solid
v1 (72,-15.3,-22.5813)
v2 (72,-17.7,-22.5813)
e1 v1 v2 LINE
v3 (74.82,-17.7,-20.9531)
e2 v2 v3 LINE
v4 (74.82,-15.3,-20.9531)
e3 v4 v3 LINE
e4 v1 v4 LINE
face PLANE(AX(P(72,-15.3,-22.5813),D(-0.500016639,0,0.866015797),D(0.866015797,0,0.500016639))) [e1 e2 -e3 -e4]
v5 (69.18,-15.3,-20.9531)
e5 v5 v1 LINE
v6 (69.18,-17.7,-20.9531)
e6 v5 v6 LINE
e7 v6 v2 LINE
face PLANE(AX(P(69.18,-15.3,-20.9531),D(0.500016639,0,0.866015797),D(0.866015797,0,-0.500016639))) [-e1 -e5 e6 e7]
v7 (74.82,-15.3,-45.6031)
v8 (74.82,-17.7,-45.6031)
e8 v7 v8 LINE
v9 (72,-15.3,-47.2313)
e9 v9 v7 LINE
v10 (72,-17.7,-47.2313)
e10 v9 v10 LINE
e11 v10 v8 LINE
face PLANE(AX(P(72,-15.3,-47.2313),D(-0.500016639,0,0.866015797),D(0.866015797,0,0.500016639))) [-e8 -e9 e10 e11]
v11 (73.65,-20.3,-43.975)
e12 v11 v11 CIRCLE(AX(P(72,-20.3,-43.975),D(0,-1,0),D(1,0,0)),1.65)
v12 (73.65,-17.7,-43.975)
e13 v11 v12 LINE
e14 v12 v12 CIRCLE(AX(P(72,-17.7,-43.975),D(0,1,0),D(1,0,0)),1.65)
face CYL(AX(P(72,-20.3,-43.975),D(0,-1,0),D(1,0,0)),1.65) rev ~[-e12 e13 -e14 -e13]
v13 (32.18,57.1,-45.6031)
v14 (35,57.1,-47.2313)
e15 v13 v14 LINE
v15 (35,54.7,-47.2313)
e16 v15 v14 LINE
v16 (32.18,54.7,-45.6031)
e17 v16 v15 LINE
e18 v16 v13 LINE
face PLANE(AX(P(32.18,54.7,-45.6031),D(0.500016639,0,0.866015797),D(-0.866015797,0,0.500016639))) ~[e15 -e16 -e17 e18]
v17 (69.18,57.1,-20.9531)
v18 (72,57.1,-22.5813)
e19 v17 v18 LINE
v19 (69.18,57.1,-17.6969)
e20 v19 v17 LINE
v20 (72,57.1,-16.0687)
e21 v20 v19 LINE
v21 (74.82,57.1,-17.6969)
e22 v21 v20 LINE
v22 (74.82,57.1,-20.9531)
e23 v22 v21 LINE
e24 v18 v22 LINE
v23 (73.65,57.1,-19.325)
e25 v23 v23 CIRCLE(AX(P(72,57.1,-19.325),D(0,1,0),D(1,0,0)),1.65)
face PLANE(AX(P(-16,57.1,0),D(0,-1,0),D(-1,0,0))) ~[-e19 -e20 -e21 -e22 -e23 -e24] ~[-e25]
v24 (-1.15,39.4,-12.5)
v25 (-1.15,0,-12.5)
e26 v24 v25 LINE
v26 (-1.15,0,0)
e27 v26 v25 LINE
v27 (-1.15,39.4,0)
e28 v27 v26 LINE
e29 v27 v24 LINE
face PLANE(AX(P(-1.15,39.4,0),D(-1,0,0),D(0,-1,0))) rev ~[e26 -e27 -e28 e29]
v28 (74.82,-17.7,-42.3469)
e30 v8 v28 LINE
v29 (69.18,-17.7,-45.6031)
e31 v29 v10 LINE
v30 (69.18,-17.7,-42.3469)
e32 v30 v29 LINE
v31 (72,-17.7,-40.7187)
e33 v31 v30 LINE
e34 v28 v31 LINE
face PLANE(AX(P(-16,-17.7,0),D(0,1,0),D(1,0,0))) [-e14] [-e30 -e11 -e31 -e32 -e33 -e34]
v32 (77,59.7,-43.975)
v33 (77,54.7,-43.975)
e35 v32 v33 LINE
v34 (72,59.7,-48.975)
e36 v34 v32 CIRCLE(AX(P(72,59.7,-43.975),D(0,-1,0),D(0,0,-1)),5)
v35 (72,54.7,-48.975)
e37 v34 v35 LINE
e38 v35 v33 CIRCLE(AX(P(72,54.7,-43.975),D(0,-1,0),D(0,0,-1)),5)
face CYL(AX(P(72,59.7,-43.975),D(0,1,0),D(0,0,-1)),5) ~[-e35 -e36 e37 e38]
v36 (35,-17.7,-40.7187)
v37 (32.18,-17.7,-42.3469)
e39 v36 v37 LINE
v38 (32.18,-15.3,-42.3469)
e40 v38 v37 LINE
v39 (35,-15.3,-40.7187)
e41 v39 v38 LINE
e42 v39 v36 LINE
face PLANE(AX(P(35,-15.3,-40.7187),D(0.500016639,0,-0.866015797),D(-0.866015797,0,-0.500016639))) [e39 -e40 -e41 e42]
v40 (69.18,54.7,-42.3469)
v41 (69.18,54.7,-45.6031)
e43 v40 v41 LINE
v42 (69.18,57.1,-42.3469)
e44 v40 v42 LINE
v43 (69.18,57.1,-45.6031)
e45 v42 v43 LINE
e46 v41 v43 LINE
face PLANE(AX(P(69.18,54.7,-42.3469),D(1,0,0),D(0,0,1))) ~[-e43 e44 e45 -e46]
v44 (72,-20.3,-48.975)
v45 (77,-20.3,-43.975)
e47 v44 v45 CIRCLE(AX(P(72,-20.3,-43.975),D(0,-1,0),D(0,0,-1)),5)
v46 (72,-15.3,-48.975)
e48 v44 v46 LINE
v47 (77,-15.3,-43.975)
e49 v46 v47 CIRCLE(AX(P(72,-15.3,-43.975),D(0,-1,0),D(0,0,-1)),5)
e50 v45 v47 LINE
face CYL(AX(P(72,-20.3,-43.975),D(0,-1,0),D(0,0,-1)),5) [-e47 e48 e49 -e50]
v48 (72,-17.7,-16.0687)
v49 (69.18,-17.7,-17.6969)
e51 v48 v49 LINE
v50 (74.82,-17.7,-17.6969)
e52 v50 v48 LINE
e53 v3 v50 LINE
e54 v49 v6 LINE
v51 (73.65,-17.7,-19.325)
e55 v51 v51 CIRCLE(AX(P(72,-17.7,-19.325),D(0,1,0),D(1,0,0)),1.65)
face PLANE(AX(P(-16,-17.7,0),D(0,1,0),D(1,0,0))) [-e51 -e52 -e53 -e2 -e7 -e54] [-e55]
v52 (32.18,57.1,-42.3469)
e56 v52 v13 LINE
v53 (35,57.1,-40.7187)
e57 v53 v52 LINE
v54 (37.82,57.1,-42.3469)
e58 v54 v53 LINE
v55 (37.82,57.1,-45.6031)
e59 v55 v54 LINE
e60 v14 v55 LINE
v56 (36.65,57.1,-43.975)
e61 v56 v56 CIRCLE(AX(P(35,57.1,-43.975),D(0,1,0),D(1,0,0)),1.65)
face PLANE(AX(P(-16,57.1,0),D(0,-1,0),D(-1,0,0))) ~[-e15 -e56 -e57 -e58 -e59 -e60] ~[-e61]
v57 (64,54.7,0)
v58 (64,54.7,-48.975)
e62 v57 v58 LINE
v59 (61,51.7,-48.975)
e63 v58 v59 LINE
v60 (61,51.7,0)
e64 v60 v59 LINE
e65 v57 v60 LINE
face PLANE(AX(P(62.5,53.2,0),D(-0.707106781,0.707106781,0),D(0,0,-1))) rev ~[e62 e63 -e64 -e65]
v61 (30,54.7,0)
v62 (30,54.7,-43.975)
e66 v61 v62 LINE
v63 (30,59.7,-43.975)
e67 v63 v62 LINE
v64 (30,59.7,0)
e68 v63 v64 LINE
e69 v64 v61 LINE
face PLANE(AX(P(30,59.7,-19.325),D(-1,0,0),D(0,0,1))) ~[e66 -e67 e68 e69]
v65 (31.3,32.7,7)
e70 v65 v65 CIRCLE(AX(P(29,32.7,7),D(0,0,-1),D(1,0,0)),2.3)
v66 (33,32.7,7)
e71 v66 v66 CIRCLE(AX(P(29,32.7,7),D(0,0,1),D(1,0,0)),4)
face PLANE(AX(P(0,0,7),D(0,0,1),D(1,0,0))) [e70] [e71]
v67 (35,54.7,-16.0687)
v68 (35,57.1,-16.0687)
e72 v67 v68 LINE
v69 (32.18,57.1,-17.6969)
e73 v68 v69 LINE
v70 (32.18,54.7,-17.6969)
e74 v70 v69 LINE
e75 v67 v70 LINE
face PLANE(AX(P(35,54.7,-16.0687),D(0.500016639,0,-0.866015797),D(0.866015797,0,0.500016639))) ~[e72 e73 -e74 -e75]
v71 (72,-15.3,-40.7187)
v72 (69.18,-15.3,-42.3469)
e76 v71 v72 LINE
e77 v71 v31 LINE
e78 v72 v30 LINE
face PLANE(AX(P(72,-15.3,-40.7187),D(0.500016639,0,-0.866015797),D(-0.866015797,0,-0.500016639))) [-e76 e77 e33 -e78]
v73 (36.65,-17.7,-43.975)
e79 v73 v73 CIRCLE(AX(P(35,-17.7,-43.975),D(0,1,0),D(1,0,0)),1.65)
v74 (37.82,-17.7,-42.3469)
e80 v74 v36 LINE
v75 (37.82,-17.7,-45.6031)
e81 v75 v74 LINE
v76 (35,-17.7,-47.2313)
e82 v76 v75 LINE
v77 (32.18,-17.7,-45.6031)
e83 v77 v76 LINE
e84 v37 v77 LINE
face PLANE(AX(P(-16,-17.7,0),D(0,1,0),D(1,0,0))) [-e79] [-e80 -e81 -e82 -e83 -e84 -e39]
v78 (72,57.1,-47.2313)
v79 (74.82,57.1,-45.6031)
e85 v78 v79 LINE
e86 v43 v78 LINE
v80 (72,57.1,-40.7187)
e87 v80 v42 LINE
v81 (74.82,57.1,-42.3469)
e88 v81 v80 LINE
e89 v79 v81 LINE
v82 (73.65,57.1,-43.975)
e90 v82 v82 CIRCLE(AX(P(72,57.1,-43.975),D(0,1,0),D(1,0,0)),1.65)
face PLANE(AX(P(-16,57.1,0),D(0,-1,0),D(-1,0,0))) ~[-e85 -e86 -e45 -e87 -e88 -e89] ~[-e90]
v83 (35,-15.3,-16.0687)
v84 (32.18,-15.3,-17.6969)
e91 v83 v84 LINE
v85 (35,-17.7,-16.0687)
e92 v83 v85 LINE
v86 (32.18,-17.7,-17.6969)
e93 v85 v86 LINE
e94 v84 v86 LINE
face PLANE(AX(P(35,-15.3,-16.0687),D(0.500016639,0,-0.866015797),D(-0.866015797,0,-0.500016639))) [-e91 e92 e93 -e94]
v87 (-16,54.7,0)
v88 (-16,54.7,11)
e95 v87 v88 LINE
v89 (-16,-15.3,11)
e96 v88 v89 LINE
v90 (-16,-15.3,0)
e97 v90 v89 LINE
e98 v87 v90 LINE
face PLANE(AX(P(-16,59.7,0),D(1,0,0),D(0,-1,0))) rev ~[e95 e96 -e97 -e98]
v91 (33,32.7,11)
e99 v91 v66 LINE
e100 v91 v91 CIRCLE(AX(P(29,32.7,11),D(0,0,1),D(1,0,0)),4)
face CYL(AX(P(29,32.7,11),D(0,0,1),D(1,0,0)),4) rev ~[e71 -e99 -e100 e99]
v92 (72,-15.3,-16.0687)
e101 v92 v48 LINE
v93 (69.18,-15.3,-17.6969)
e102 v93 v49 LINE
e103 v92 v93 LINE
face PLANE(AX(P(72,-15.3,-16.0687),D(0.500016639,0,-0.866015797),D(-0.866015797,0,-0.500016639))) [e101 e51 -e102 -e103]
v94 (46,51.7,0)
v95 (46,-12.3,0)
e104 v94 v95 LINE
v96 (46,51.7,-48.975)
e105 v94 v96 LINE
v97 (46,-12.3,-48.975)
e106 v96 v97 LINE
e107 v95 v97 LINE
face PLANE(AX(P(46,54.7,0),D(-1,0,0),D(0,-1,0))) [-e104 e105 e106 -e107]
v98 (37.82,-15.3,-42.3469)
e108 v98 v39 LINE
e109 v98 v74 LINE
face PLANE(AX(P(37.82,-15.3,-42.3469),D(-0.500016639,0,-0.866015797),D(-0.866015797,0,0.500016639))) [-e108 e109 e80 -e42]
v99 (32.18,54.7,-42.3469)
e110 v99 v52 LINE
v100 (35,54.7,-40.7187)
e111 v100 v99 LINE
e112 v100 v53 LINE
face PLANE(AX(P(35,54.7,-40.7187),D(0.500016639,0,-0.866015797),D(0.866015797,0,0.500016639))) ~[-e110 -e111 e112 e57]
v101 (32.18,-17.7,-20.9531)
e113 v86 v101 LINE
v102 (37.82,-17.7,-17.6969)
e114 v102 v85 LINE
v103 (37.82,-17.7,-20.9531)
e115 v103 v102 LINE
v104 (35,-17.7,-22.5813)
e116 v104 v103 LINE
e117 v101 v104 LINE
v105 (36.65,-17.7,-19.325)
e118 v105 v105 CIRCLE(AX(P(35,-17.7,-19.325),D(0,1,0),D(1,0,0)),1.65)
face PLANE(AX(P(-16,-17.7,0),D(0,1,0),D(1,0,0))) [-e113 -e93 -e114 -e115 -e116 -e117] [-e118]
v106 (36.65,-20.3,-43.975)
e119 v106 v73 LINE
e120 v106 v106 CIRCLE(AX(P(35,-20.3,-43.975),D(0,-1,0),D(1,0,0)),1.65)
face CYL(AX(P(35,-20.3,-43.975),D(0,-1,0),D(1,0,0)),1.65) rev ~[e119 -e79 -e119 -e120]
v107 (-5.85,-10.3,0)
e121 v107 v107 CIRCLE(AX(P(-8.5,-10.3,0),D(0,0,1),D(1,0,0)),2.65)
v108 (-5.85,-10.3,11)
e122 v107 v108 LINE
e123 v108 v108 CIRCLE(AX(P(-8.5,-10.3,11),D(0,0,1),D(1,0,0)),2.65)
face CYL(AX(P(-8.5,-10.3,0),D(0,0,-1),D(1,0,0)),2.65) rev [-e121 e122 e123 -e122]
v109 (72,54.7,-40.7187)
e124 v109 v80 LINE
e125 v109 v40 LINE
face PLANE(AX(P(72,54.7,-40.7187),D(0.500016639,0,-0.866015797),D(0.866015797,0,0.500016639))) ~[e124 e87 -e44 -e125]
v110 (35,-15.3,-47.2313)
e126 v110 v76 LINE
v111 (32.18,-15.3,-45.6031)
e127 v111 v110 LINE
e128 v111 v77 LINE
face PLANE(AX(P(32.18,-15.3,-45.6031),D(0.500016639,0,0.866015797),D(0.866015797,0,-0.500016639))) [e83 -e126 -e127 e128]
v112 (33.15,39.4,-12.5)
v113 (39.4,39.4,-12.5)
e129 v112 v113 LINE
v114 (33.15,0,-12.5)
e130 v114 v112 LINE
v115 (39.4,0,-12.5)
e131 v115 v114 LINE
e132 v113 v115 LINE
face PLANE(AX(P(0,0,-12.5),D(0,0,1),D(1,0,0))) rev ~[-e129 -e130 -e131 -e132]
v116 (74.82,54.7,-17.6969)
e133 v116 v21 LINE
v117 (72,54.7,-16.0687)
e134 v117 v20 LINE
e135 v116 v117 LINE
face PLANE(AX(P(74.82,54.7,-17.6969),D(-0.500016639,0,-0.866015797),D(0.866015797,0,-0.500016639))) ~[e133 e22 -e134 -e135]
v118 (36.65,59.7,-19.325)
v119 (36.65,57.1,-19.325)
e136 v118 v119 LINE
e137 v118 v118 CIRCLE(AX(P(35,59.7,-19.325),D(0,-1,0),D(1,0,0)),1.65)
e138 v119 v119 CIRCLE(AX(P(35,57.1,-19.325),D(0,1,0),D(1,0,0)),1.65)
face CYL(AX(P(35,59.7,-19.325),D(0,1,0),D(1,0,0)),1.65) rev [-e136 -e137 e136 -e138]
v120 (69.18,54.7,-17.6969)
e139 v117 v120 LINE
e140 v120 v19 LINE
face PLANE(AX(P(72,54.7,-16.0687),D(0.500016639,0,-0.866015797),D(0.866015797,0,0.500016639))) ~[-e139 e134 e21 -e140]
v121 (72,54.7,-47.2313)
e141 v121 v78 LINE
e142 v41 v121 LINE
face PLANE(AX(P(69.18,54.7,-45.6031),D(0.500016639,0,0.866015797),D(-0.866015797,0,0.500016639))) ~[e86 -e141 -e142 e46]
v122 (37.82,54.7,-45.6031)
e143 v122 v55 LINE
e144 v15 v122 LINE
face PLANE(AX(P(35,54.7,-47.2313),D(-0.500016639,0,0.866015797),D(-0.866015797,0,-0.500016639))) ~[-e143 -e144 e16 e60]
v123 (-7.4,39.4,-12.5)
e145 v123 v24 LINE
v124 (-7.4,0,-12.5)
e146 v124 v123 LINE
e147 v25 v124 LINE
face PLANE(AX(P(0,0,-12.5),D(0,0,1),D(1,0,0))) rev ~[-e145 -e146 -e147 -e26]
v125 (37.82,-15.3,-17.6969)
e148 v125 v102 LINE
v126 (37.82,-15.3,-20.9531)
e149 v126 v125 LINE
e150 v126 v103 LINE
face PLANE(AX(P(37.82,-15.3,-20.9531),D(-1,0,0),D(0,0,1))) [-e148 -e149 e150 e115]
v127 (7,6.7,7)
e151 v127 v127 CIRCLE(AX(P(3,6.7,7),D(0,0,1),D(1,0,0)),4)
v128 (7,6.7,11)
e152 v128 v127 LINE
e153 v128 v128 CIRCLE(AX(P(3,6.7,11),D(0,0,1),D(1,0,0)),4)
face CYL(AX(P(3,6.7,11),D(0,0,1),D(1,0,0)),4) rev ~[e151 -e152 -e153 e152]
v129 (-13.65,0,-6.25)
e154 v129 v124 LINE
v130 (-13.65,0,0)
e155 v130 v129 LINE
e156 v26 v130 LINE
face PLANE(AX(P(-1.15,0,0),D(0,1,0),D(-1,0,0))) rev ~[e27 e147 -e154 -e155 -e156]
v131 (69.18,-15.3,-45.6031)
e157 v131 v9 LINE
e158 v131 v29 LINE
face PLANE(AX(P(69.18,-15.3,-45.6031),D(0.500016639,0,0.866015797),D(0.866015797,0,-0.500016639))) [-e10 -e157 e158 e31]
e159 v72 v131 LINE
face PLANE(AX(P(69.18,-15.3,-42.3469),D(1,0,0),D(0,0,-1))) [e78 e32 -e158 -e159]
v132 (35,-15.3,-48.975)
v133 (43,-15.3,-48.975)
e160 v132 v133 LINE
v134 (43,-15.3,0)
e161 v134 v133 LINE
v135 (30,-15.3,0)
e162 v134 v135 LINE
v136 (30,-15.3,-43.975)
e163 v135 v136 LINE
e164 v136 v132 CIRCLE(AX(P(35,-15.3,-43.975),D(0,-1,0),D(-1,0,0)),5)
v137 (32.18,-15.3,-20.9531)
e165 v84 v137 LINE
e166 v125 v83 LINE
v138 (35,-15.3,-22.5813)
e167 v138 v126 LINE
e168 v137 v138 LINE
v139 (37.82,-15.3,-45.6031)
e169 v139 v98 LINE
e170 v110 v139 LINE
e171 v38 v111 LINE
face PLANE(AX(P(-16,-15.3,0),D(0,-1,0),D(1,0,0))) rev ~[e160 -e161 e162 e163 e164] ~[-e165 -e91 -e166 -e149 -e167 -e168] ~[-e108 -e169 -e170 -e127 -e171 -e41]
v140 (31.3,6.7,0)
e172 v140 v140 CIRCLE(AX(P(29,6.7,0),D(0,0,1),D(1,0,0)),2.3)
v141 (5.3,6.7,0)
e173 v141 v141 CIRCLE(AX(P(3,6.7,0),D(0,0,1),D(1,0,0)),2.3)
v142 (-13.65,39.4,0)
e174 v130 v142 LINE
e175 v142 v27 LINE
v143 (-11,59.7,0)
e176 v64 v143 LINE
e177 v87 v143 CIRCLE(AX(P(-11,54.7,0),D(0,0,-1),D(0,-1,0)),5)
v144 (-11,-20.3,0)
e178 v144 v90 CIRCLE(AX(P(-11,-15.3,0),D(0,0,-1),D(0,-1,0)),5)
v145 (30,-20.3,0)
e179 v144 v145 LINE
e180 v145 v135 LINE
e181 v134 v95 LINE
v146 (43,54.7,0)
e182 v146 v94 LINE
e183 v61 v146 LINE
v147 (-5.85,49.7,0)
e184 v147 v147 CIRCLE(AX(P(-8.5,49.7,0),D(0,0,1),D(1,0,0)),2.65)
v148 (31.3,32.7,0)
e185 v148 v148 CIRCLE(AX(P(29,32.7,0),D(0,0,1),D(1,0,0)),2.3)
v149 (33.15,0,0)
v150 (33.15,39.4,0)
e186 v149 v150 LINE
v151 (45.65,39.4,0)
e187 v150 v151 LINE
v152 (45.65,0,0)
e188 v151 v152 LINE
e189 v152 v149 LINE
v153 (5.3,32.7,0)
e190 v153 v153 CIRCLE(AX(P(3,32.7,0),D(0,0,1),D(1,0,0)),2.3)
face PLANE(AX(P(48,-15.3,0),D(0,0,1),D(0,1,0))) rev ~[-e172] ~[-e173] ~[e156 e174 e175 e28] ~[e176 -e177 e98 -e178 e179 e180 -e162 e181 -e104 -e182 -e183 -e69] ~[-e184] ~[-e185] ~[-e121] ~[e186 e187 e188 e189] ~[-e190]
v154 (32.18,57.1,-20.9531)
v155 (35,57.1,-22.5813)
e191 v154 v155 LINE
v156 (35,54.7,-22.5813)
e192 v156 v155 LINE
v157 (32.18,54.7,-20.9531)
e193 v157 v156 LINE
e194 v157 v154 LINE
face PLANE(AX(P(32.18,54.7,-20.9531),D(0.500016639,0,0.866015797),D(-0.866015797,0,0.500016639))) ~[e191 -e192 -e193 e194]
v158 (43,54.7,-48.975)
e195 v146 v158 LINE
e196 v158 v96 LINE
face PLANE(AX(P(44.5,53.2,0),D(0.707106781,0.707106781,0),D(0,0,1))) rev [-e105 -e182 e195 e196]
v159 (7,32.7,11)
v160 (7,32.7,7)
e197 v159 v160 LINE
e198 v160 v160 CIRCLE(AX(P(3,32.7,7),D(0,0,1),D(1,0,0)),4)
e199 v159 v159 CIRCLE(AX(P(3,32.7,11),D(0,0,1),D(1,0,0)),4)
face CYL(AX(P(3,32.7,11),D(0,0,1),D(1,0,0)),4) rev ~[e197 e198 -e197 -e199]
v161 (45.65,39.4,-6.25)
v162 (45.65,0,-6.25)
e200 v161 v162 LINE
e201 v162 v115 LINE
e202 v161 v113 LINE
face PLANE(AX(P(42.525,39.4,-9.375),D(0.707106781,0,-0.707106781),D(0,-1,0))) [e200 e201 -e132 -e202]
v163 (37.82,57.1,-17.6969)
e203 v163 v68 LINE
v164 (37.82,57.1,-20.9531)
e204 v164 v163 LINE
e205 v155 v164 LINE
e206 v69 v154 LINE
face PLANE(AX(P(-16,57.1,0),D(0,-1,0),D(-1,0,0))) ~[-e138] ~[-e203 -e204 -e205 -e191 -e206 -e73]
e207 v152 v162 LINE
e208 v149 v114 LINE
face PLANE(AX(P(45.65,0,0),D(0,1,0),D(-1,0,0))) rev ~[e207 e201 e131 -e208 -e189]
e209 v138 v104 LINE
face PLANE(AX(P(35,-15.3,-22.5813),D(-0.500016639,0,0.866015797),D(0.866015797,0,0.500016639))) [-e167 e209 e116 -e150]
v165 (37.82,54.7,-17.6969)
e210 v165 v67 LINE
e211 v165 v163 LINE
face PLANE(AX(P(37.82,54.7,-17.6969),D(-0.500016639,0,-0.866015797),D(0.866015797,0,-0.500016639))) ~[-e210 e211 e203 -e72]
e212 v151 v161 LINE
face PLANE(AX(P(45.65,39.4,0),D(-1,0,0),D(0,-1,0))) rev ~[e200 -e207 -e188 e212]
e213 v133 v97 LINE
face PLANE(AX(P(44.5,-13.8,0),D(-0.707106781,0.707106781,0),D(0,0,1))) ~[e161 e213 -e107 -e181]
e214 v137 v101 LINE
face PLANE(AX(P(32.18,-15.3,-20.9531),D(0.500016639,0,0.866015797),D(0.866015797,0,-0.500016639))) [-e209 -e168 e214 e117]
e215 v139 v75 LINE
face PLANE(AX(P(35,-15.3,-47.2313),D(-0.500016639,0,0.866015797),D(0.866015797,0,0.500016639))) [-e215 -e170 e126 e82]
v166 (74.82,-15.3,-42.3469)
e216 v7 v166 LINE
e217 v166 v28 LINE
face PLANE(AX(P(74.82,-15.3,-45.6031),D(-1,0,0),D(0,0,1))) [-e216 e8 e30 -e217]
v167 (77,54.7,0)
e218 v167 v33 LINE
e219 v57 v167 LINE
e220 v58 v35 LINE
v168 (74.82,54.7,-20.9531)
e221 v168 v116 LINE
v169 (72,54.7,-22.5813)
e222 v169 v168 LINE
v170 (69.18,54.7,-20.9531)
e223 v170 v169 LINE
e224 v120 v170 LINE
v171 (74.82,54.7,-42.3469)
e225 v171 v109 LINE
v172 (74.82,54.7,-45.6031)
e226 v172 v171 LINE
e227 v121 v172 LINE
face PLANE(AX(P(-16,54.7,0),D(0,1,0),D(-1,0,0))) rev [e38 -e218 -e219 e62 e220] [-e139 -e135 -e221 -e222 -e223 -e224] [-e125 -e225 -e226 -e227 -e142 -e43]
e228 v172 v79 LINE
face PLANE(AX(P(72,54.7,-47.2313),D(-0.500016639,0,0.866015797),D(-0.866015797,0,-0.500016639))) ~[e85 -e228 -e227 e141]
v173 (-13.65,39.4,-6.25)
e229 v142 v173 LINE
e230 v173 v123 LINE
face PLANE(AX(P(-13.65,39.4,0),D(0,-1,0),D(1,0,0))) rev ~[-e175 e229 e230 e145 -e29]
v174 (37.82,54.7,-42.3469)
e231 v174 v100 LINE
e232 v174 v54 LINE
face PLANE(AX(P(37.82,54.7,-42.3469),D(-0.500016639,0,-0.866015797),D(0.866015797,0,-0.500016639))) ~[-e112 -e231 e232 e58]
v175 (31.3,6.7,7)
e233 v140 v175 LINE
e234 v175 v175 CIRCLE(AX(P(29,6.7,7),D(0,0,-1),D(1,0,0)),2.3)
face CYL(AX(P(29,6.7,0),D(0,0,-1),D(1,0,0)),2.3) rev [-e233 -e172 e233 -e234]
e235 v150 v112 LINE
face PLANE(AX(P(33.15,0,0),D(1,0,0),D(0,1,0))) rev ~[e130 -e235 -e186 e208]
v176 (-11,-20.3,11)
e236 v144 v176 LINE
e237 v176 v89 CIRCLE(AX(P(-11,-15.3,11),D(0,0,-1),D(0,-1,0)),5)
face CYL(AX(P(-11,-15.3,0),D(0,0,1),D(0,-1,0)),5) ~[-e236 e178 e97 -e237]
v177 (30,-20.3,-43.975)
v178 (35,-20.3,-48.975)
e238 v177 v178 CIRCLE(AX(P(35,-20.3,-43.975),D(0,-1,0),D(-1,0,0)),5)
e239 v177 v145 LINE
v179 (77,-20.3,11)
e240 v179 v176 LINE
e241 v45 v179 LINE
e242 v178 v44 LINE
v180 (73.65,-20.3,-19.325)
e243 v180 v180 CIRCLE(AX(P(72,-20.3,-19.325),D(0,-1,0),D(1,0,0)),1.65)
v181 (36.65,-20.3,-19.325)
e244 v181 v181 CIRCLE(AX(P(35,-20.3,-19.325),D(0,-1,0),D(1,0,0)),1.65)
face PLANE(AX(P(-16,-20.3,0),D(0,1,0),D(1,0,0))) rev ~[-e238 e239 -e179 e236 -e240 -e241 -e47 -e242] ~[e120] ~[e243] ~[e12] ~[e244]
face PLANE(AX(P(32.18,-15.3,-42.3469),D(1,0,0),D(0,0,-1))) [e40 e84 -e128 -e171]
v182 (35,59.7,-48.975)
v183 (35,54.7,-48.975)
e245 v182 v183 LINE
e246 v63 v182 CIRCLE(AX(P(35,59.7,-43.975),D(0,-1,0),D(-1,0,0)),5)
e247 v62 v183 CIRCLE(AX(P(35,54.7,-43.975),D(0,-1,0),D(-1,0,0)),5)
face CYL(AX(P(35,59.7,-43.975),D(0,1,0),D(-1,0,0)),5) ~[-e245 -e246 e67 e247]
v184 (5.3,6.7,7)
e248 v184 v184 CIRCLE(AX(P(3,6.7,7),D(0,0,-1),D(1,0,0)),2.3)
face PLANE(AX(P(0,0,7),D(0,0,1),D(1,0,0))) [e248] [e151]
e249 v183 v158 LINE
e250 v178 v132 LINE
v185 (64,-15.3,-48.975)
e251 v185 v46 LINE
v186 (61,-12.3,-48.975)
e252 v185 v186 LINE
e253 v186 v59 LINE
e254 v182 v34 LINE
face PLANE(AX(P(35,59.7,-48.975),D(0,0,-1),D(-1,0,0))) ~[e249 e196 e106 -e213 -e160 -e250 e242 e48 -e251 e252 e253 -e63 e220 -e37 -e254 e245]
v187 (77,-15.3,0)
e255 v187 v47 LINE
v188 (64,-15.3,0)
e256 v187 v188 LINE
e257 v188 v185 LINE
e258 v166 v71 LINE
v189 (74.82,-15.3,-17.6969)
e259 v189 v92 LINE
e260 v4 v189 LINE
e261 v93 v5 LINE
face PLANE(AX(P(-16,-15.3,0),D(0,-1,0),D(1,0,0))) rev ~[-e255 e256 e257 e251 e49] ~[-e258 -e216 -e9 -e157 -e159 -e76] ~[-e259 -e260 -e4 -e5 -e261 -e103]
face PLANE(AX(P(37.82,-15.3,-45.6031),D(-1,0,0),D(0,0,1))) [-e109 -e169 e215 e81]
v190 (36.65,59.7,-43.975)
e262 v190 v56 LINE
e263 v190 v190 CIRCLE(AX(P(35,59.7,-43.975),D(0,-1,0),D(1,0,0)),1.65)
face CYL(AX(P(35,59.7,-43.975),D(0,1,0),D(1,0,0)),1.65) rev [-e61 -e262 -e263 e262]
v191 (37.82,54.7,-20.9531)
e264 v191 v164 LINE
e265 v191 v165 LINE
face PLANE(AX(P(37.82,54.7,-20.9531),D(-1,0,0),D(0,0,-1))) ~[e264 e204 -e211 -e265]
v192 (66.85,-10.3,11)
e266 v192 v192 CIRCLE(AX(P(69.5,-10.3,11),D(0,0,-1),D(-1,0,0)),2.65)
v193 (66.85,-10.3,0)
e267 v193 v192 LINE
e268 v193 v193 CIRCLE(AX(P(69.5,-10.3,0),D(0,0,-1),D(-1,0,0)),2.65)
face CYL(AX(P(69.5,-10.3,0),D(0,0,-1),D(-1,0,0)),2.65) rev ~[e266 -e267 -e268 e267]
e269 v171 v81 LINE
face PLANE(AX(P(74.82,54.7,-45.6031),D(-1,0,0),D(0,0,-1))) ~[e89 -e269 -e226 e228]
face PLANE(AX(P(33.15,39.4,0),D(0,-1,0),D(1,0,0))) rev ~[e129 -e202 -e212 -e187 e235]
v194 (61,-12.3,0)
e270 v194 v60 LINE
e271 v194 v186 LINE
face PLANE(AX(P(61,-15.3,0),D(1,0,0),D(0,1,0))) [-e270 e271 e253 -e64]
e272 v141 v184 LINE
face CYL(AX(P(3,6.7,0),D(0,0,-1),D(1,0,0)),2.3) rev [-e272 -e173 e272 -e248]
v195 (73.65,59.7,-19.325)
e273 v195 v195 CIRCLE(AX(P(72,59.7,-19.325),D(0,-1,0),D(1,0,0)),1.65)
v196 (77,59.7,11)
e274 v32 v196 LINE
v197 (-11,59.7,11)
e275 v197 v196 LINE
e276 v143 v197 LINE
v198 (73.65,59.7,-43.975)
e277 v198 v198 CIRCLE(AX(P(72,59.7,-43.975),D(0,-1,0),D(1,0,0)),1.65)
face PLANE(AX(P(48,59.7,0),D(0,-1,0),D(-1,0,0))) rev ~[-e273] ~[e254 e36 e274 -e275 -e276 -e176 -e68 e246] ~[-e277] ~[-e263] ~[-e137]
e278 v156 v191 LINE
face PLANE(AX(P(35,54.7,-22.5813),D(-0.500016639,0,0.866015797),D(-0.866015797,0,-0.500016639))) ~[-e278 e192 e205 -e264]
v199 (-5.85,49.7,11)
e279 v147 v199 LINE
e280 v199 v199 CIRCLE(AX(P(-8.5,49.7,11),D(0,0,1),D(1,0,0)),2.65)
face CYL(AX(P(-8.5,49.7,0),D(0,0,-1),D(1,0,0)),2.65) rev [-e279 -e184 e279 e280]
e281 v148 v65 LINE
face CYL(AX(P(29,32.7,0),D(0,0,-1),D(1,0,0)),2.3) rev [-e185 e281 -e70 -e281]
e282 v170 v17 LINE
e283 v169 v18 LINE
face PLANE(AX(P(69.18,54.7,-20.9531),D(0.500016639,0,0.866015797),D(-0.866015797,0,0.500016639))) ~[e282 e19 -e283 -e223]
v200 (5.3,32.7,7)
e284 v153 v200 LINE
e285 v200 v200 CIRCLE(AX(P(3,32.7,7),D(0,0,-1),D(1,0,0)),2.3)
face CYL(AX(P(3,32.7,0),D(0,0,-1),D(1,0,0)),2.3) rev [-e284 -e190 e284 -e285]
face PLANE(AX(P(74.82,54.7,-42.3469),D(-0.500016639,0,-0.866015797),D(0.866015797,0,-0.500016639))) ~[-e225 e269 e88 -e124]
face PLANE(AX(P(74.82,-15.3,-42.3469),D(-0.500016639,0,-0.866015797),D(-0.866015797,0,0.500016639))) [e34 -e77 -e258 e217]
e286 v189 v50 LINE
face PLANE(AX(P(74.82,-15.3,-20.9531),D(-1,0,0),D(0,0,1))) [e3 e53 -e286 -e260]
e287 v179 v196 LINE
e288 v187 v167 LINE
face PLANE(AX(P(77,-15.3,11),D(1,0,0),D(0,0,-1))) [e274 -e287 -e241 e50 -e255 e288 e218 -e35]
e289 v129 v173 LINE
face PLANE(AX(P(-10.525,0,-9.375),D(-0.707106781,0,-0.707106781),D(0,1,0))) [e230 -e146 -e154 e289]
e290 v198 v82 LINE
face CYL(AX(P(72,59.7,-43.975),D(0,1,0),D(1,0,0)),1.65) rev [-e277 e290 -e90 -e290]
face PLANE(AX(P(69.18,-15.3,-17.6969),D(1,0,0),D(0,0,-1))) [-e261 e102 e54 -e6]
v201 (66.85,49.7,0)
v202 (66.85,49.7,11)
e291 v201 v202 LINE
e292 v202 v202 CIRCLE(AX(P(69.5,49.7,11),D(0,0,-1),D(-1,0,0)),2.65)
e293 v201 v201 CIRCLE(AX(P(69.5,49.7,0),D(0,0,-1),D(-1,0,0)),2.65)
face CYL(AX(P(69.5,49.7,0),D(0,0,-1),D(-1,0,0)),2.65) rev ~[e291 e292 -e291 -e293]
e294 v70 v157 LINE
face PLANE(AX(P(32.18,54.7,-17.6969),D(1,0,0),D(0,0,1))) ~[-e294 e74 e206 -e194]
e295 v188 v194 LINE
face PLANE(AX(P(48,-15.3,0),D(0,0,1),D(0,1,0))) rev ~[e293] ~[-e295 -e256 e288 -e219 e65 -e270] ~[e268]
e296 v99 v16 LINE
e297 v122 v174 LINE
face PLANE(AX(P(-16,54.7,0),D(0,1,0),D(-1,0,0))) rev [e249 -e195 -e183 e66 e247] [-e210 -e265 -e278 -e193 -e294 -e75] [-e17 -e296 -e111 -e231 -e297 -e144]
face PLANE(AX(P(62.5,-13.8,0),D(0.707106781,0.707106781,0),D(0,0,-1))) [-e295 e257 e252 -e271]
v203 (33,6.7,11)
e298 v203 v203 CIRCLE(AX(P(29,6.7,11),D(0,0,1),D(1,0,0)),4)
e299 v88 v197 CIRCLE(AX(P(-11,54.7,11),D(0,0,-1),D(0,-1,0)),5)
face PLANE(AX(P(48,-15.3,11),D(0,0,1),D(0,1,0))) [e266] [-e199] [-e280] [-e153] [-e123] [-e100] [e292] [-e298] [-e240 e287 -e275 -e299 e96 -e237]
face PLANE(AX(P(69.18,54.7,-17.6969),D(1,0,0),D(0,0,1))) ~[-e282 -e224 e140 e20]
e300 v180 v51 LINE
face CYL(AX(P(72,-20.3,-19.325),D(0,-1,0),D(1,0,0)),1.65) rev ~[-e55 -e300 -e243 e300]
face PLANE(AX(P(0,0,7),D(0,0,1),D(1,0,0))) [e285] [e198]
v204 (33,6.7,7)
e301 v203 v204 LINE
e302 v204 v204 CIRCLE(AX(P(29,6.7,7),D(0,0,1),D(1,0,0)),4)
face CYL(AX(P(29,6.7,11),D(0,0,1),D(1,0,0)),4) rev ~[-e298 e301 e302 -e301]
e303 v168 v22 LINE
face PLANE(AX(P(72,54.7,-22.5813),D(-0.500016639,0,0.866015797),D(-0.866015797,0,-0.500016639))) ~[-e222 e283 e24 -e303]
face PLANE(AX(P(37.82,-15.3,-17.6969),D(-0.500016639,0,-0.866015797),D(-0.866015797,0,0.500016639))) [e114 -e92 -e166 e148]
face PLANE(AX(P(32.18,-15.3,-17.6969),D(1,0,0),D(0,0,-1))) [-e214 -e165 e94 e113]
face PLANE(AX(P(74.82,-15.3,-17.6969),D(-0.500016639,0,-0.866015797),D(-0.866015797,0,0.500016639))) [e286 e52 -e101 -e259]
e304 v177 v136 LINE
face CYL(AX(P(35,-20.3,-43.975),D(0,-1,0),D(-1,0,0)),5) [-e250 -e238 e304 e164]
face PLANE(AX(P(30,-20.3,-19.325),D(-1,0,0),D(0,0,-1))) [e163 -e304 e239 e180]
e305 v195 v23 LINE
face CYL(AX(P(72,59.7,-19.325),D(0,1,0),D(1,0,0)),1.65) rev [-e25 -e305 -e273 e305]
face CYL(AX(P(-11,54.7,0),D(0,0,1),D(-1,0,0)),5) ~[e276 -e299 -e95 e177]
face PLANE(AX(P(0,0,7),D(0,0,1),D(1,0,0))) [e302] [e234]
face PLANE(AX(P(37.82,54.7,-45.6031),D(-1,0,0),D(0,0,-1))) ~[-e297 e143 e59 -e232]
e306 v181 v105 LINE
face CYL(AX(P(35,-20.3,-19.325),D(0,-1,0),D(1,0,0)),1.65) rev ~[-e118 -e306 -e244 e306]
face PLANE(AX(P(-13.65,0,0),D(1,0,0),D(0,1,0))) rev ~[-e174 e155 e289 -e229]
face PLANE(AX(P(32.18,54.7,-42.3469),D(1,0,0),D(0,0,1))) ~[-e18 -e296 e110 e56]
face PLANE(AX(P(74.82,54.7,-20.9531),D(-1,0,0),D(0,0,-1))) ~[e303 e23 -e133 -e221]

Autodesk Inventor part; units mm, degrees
ref_plane "YZ Plane" through (0, 0, 0) normal (1, 0, 0) x (0, 1, 0)
ref_plane "XZ Plane" through (0, 0, 0) normal (0, 1, 0) x (-1, 0, 0)
ref_plane "XY Plane" through (0, 0, 0) normal (0, 0, 1) x (1, 0, 0)
sketch "Sketch1" plane through (0, 0, 0) normal (0, 0, 1) x (1, 0, 0)
  line L0 (25, 39.4) -> (25, 0)
  line L1 (32, 0) -> (25, 0)
  line L2 (32, 0) -> (32, 39.4)
  line L3 (32, 39.4) -> (25, 39.4)
  circle A0 centre (29, 32.7) radius 2
  circle A1 centre (29, 6.7) radius 2
  line L4 (0, 0) -> (0, 39.4)
  line L5 (7, 0) -> (0, 0)
  line L6 (7, 0) -> (7, 39.4)
  line L7 (7, 39.4) -> (0, 39.4)
  circle A2 centre (3, 32.7) radius 2
  circle A3 centre (3, 6.7) radius 2
  line L8 (-1, 0) -> (-1, 39.4)
  line L9 (33, 39.4) -> (33, 0)
  line L10 (32.1572, 39.4) -> (32.1572, 50.4)
  line L11 (-0.2428, 50.4) -> (-0.2428, 39.4)
  line L12 (32.1572, 0) -> (32.1572, -11)
  line L13 (-0.2428, -11) -> (-0.2428, 0)
  line L14 (0, 39.4) -> (32, 39.4)
  line L15 (32, 39.4) -> (32, 0)
  line L16 (32, 0) -> (0, 0)
  line L17 (0, 0) -> (0, 39.4)
  line L18 (48, 59.7) -> (-16, 59.7)
  line L19 (-16, 59.7) -> (-16, -20.3)
  line L20 (-16, -20.3) -> (48, -20.3)
  line L21 (48, -20.3) -> (48, 59.7)
  line L22 (48, 59.7) -> (-16, -20.3) construction
  line L23 (-16, 59.7) -> (48, -20.3) construction
  line L24 (48, 49.7) -> (-16, 49.7) construction
  line L25 (48, -10.3) -> (-16, -10.3) construction
  line L26 (-8.5, -10.3) -> (40.5, -10.3) construction
  line L27 (40.5, -10.3) -> (40.5, 49.7) construction
  line L28 (40.5, 49.7) -> (-8.5, 49.7) construction
  line L29 (-8.5, 49.7) -> (-8.5, -10.3) construction
  line L30 (-8.5, -10.3) -> (40.5, 49.7) construction
  line L31 (40.5, -10.3) -> (-8.5, 49.7) construction
  circle A4 centre (40.5, 49.7) radius 2.65
  circle A5 centre (40.5, -10.3) radius 2.65
  circle A6 centre (-8.5, -10.3) radius 2.65
  circle A7 centre (-8.5, 49.7) radius 2.65
  circle A8 centre (3, 32.7) radius 2.3
  circle A9 centre (3, 6.7) radius 2.3
  circle A10 centre (29, 6.7) radius 2.3
  circle A11 centre (29, 32.7) radius 2.3
  line L32 (-13.65, 39.4) -> (-1.15, 39.4)
  line L33 (-1.15, 39.4) -> (-1.15, 0)
  line L34 (-1.15, 0) -> (-13.65, 0)
  line L35 (-13.65, 0) -> (-13.65, 39.4)
  line L36 (33.15, 39.4) -> (45.65, 39.4)
  line L37 (45.65, 39.4) -> (45.65, 0)
  line L38 (45.65, 0) -> (33.15, 0)
  line L39 (33.15, 0) -> (33.15, 39.4)
  point P0 (16, 19.7)
  dimension "d0" = 80
  dimension "d1" = 15
  dimension "d2" = 10
  dimension "d3" = 10
  dimension "d4" = 5.3
  dimension "d5" = 7.5
  dimension "d12" = 0.3
  dimension "d45" = 0.15
  dimension "d46" = 0.15
  dimension "d47" = 12.5
extrude "Extrusion1" add sketch "Sketch1" along normal blind 11 contours L3 L2 L1 L0 | L0 L16 L6 L14 | L6 L5 L4 L7 | L21 L20 L19 L18 | A4 | A5 | L32 L33 L34 L35 | L36 L37 L38 L39
sketch "Sketch2" plane through (0, 0, 11) normal (0, 0, 1) x (1, 0, 0)
  line L0 (48, 59.7) -> (-16, 59.7) projected
  line L1 (-16, 59.7) -> (-16, -20.3) projected
  line L2 (-16, -20.3) -> (48, -20.3) projected
  line L3 (48, -20.3) -> (48, 59.7) projected
  circle A0 centre (29, 32.7) radius 2.3 projected
  circle A1 centre (29, 6.7) radius 2.3 projected
  circle A2 centre (3, 6.7) radius 2.3 projected
  circle A3 centre (3, 32.7) radius 2.3 projected
  circle A4 centre (-8.5, 49.7) radius 2.65 projected
  circle A5 centre (-8.5, -10.3) radius 2.65 projected
  circle A6 centre (3, 32.7) radius 4
  circle A7 centre (3, 6.7) radius 4
  circle A8 centre (29, 6.7) radius 2.3 projected
  circle A9 centre (29, 6.7) radius 4
  circle A10 centre (29, 32.7) radius 4
  point P0 (-11, -20.3)
  dimension "d13" = 8
extrude "Extrusion2" cut sketch "Sketch2" against normal blind 4 contours A0 | A1 | A2 | A3 | A6 | A7 | A9 | A10
ref_plane "Work Plane1" through (16, -15.3, 0) normal (1, 0, 0) x (0, 0, -1)
ref_plane "Work Plane2" through (-11, 19.7, 0) normal (0, 1, 0) x (1, 0, 0)
ref_plane "Work Plane3" through (-11, -20.3, 0) normal (0, -1, 0) x (1, 0, 0)
sketch "Sketch4" plane through (-16, -20.3, 0) normal (0, -1, 0) x (1, 0, 0)
  circle A0 centre (51, -43.975) radius 1.65 projected
  circle A1 centre (88, -19.325) radius 1.65 projected
  circle A2 centre (51, -19.325) radius 1.65 projected
  circle A3 centre (88, -43.975) radius 1.65 projected
  line L0 (51, -48.975) -> (88, -48.975) projected
  arc A4 (88, -48.975) -> (93, -43.975) centre (88, -43.975) ccw projected
  line L1 (93, -43.975) -> (93, -19.325) projected
  arc A5 (93, -19.325) -> (88, -14.325) centre (88, -19.325) ccw projected
  line L2 (88, -14.325) -> (51, -14.325) projected
  arc A6 (51, -14.325) -> (46, -19.325) centre (51, -19.325) ccw projected
  line L3 (46, -19.325) -> (46, -43.975) projected
  arc A7 (46, -43.975) -> (51, -48.975) centre (51, -43.975) ccw projected
  line L4 (64, 0) -> (64, 11) projected
  line L5 (64, 11) -> (93, 11)
  line L6 (93, 11) -> (93, -19.325)
  line L7 (46, -19.325) -> (46, 0)
  line L8 (42.7, 0) -> (47.3, 0) projected
  line L9 (0, 0) -> (64, 0) projected
  line L10 (64, 0) -> (64, 11) projected
  line L11 (0, 11) -> (64, 11) projected
  line L12 (0, 0) -> (0, 11) projected
  line L13 (47, -29.3406) -> (51, -27.0312) projected
  line L14 (51, -27.0312) -> (55, -29.3406) projected
  line L15 (55, -29.3406) -> (55, -33.9594) projected
  line L16 (55, -33.9594) -> (51, -36.2688) projected
  line L17 (51, -36.2688) -> (47, -33.9594) projected
  line L18 (47, -33.9594) -> (47, -29.3406) projected
  line L19 (84, -29.3406) -> (88, -27.0312) projected
  line L20 (88, -27.0312) -> (92, -29.3406) projected
  line L21 (92, -29.3406) -> (92, -33.9594) projected
  line L22 (92, -33.9594) -> (88, -36.2688) projected
  line L23 (88, -36.2688) -> (84, -33.9594) projected
  line L24 (84, -33.9594) -> (84, -29.3406) projected
  point P0 (16, 0)
  point P1 (57, 0)
  point P2 (57, 11)
  point P3 (46, 0)
extrude "Extrusion3" add sketch "Sketch4" against normal blind 5 contours A7 L3 A6 L2 A5 L1 A4 L0 | L7 L8 L9 L4 L5 L6 A5 L2 A6 | L13 L14 L15 L16 L17 L18 | L19 L20 L21 L22 L23 L24
sketch "Sketch9" plane through (-16, -15.3, 0) normal (0, 1, 0) x (1, 0, 0)
  line L0 (93, -11) -> (93, 43.975) projected
  arc A0 (93, 43.975) -> (88, 48.975) centre (88, 43.975) ccw projected
  line L1 (88, 48.975) -> (51, 48.975) projected
  arc A1 (51, 48.975) -> (46, 43.975) centre (51, 43.975) ccw projected
  line L2 (46, 43.975) -> (46, 0) projected
  line L3 (64, 0) -> (46, 0) projected
  circle A2 centre (51, 43.975) radius 1.65 projected
  circle A3 centre (88, 19.325) radius 1.65 projected
  circle A4 centre (51, 19.325) radius 1.65 projected
  circle A5 centre (88, 43.975) radius 1.65 projected
  circle A6 centre (51, 43.975) radius 1.65 projected
  line L4 (51, 40.7187) -> (48.18, 42.3469)
  line L5 (48.18, 42.3469) -> (48.18, 45.6031)
  line L6 (48.18, 45.6031) -> (51, 47.2313)
  line L7 (51, 47.2313) -> (53.82, 45.6031)
  line L8 (53.82, 45.6031) -> (53.82, 42.3469)
  line L9 (53.82, 42.3469) -> (51, 40.7187)
  line L10 (53.82, 17.6969) -> (51, 16.0687)
  line L11 (51, 16.0687) -> (48.18, 17.6969)
  line L12 (48.18, 17.6969) -> (48.18, 20.9531)
  line L13 (48.18, 20.9531) -> (51, 22.5813)
  line L14 (51, 22.5813) -> (53.82, 20.9531)
  line L15 (53.82, 20.9531) -> (53.82, 17.6969)
  line L16 (85.18, 20.9531) -> (88, 22.5813)
  line L17 (88, 22.5813) -> (90.82, 20.9531)
  line L18 (90.82, 20.9531) -> (90.82, 17.6969)
  line L19 (90.82, 17.6969) -> (88, 16.0687)
  line L20 (88, 16.0687) -> (85.18, 17.6969)
  line L21 (85.18, 17.6969) -> (85.18, 20.9531)
  line L22 (85.18, 45.6031) -> (88, 47.2313)
  line L23 (88, 47.2313) -> (90.82, 45.6031)
  line L24 (90.82, 45.6031) -> (90.82, 42.3469)
  line L25 (90.82, 42.3469) -> (88, 40.7187)
  line L26 (88, 40.7187) -> (85.18, 42.3469)
  line L27 (85.18, 42.3469) -> (85.18, 45.6031)
  line L28 (64, -11) -> (64, 0) projected
  line L29 (64, -11) -> (93, -11) projected
  point P0 (16, 0)
  dimension "d35" = 5.64
extrude "Extrusion7" cut sketch "Sketch9" against normal blind 2.4 contours L4 L5 L6 L7 L8 L9 | L10 L11 L12 L13 L14 L15 | L16 L17 L18 L19 L20 L21 | L22 L23 L24 L25 L26 L27
mirror "Mirror1" about plane through (-11, 19.7, 0) normal (0, 1, 0) of "Extrusion3", "Extrusion7"
sketch "Sketch5" plane through (48, -15.3, 11) normal (1, 0, 0) x (0, 0, -1)
  line L0 (11, 0) -> (11, 70) projected
  line L1 (0, 0) -> (0, 70) projected
  line L2 (11, 0) -> (11, 70) projected
  line L3 (11, 70) -> (0, 70) projected
  line L4 (0, 0) -> (11, 0) projected
  point P0 (11, 15.3)
extrude "Extrusion4" add sketch "Sketch5" along normal up to surface (29 mm away)
sketch "Sketch7" plane through (0, 0, 0) normal (0, 0, -1) x (-1, 0, 0)
  circle A0 centre (8.5, -10.3) radius 2.65 projected
  circle A1 centre (8.5, 49.7) radius 2.65 projected
  circle A2 centre (-3, 32.7) radius 2.3 projected
  circle A3 centre (-3, 6.7) radius 2.3 projected
  circle A4 centre (-29, 6.7) radius 2.3 projected
  circle A5 centre (-29, 32.7) radius 2.3 projected
  line L0 (16, -20.3) -> (-30, -20.3) projected
  line L1 (16, 59.7) -> (16, -20.3) projected
  line L2 (-30, 59.7) -> (16, 59.7) projected
  circle A6 centre (-69.5, -10.3) radius 2.65
  circle A7 centre (-69.5, 49.7) radius 2.65
  circle A8 centre (8.5, -10.3) radius 2.65 projected
  line L3 (-30, 59.7) -> (-30, 54.7) projected
  line L4 (-77, 54.7) -> (-30, 54.7) projected
  line L5 (-77, 54.7) -> (-77, -15.3) projected
  line L6 (-77, -15.3) -> (-30, -15.3) projected
  line L7 (-30, -15.3) -> (-30, -20.3) projected
  point P0 (0, 0)
extrude "Extrusion5" cut sketch "Sketch7" against normal through all contours A6 | A7
sketch "Sketch8" plane through (0, 0, 0) normal (0, 0, -1) x (-1, 0, 0)
  line L0 (-77, -15.3) -> (-30, -15.3) projected
  line L1 (-46, -15.3) -> (-61, -15.3)
  line L2 (-61, -15.3) -> (-61, 54.7)
  line L3 (-61, 54.7) -> (-46, 54.7)
  line L4 (-46, 54.7) -> (-46, -15.3)
  line L5 (-72, 54.7) -> (-35, 54.7) projected
  point P0 (0, 0)
  point P1 (-53.5, 54.7)
  dimension "d23" = 15
extrude "Extrusion6" add sketch "Sketch8" along normal up to surface (48.975 mm away)
chamfer "Chamfer1" distance 3 angle 45 4 edges at (46, -15.3, -24.4875) (61, -15.3, -24.4875) (61, 54.7, -24.4875) (46, 54.7, -24.4875)
fillet "Fillet2" radius 5 2 edges at (-16, 59.7, 5.5) (-16, -20.3, 5.5)
ref_plane "Work Plane4" through (0, 0, 0) normal (0, 0, -1) x (-1, 0, 0)
extrude "Extrusion9" add sketch "Sketch1" against normal blind 12.5 contours L32 L33 L34 L35 | L36 L37 L38 L39
chamfer "Chamfer2" distance 6.25 angle 45 2 edges at (-13.65, 19.7, -12.5) (45.65, 19.7, -12.5)
properties part number "Soporte Actuador Lineal" material "PET Plastic"
